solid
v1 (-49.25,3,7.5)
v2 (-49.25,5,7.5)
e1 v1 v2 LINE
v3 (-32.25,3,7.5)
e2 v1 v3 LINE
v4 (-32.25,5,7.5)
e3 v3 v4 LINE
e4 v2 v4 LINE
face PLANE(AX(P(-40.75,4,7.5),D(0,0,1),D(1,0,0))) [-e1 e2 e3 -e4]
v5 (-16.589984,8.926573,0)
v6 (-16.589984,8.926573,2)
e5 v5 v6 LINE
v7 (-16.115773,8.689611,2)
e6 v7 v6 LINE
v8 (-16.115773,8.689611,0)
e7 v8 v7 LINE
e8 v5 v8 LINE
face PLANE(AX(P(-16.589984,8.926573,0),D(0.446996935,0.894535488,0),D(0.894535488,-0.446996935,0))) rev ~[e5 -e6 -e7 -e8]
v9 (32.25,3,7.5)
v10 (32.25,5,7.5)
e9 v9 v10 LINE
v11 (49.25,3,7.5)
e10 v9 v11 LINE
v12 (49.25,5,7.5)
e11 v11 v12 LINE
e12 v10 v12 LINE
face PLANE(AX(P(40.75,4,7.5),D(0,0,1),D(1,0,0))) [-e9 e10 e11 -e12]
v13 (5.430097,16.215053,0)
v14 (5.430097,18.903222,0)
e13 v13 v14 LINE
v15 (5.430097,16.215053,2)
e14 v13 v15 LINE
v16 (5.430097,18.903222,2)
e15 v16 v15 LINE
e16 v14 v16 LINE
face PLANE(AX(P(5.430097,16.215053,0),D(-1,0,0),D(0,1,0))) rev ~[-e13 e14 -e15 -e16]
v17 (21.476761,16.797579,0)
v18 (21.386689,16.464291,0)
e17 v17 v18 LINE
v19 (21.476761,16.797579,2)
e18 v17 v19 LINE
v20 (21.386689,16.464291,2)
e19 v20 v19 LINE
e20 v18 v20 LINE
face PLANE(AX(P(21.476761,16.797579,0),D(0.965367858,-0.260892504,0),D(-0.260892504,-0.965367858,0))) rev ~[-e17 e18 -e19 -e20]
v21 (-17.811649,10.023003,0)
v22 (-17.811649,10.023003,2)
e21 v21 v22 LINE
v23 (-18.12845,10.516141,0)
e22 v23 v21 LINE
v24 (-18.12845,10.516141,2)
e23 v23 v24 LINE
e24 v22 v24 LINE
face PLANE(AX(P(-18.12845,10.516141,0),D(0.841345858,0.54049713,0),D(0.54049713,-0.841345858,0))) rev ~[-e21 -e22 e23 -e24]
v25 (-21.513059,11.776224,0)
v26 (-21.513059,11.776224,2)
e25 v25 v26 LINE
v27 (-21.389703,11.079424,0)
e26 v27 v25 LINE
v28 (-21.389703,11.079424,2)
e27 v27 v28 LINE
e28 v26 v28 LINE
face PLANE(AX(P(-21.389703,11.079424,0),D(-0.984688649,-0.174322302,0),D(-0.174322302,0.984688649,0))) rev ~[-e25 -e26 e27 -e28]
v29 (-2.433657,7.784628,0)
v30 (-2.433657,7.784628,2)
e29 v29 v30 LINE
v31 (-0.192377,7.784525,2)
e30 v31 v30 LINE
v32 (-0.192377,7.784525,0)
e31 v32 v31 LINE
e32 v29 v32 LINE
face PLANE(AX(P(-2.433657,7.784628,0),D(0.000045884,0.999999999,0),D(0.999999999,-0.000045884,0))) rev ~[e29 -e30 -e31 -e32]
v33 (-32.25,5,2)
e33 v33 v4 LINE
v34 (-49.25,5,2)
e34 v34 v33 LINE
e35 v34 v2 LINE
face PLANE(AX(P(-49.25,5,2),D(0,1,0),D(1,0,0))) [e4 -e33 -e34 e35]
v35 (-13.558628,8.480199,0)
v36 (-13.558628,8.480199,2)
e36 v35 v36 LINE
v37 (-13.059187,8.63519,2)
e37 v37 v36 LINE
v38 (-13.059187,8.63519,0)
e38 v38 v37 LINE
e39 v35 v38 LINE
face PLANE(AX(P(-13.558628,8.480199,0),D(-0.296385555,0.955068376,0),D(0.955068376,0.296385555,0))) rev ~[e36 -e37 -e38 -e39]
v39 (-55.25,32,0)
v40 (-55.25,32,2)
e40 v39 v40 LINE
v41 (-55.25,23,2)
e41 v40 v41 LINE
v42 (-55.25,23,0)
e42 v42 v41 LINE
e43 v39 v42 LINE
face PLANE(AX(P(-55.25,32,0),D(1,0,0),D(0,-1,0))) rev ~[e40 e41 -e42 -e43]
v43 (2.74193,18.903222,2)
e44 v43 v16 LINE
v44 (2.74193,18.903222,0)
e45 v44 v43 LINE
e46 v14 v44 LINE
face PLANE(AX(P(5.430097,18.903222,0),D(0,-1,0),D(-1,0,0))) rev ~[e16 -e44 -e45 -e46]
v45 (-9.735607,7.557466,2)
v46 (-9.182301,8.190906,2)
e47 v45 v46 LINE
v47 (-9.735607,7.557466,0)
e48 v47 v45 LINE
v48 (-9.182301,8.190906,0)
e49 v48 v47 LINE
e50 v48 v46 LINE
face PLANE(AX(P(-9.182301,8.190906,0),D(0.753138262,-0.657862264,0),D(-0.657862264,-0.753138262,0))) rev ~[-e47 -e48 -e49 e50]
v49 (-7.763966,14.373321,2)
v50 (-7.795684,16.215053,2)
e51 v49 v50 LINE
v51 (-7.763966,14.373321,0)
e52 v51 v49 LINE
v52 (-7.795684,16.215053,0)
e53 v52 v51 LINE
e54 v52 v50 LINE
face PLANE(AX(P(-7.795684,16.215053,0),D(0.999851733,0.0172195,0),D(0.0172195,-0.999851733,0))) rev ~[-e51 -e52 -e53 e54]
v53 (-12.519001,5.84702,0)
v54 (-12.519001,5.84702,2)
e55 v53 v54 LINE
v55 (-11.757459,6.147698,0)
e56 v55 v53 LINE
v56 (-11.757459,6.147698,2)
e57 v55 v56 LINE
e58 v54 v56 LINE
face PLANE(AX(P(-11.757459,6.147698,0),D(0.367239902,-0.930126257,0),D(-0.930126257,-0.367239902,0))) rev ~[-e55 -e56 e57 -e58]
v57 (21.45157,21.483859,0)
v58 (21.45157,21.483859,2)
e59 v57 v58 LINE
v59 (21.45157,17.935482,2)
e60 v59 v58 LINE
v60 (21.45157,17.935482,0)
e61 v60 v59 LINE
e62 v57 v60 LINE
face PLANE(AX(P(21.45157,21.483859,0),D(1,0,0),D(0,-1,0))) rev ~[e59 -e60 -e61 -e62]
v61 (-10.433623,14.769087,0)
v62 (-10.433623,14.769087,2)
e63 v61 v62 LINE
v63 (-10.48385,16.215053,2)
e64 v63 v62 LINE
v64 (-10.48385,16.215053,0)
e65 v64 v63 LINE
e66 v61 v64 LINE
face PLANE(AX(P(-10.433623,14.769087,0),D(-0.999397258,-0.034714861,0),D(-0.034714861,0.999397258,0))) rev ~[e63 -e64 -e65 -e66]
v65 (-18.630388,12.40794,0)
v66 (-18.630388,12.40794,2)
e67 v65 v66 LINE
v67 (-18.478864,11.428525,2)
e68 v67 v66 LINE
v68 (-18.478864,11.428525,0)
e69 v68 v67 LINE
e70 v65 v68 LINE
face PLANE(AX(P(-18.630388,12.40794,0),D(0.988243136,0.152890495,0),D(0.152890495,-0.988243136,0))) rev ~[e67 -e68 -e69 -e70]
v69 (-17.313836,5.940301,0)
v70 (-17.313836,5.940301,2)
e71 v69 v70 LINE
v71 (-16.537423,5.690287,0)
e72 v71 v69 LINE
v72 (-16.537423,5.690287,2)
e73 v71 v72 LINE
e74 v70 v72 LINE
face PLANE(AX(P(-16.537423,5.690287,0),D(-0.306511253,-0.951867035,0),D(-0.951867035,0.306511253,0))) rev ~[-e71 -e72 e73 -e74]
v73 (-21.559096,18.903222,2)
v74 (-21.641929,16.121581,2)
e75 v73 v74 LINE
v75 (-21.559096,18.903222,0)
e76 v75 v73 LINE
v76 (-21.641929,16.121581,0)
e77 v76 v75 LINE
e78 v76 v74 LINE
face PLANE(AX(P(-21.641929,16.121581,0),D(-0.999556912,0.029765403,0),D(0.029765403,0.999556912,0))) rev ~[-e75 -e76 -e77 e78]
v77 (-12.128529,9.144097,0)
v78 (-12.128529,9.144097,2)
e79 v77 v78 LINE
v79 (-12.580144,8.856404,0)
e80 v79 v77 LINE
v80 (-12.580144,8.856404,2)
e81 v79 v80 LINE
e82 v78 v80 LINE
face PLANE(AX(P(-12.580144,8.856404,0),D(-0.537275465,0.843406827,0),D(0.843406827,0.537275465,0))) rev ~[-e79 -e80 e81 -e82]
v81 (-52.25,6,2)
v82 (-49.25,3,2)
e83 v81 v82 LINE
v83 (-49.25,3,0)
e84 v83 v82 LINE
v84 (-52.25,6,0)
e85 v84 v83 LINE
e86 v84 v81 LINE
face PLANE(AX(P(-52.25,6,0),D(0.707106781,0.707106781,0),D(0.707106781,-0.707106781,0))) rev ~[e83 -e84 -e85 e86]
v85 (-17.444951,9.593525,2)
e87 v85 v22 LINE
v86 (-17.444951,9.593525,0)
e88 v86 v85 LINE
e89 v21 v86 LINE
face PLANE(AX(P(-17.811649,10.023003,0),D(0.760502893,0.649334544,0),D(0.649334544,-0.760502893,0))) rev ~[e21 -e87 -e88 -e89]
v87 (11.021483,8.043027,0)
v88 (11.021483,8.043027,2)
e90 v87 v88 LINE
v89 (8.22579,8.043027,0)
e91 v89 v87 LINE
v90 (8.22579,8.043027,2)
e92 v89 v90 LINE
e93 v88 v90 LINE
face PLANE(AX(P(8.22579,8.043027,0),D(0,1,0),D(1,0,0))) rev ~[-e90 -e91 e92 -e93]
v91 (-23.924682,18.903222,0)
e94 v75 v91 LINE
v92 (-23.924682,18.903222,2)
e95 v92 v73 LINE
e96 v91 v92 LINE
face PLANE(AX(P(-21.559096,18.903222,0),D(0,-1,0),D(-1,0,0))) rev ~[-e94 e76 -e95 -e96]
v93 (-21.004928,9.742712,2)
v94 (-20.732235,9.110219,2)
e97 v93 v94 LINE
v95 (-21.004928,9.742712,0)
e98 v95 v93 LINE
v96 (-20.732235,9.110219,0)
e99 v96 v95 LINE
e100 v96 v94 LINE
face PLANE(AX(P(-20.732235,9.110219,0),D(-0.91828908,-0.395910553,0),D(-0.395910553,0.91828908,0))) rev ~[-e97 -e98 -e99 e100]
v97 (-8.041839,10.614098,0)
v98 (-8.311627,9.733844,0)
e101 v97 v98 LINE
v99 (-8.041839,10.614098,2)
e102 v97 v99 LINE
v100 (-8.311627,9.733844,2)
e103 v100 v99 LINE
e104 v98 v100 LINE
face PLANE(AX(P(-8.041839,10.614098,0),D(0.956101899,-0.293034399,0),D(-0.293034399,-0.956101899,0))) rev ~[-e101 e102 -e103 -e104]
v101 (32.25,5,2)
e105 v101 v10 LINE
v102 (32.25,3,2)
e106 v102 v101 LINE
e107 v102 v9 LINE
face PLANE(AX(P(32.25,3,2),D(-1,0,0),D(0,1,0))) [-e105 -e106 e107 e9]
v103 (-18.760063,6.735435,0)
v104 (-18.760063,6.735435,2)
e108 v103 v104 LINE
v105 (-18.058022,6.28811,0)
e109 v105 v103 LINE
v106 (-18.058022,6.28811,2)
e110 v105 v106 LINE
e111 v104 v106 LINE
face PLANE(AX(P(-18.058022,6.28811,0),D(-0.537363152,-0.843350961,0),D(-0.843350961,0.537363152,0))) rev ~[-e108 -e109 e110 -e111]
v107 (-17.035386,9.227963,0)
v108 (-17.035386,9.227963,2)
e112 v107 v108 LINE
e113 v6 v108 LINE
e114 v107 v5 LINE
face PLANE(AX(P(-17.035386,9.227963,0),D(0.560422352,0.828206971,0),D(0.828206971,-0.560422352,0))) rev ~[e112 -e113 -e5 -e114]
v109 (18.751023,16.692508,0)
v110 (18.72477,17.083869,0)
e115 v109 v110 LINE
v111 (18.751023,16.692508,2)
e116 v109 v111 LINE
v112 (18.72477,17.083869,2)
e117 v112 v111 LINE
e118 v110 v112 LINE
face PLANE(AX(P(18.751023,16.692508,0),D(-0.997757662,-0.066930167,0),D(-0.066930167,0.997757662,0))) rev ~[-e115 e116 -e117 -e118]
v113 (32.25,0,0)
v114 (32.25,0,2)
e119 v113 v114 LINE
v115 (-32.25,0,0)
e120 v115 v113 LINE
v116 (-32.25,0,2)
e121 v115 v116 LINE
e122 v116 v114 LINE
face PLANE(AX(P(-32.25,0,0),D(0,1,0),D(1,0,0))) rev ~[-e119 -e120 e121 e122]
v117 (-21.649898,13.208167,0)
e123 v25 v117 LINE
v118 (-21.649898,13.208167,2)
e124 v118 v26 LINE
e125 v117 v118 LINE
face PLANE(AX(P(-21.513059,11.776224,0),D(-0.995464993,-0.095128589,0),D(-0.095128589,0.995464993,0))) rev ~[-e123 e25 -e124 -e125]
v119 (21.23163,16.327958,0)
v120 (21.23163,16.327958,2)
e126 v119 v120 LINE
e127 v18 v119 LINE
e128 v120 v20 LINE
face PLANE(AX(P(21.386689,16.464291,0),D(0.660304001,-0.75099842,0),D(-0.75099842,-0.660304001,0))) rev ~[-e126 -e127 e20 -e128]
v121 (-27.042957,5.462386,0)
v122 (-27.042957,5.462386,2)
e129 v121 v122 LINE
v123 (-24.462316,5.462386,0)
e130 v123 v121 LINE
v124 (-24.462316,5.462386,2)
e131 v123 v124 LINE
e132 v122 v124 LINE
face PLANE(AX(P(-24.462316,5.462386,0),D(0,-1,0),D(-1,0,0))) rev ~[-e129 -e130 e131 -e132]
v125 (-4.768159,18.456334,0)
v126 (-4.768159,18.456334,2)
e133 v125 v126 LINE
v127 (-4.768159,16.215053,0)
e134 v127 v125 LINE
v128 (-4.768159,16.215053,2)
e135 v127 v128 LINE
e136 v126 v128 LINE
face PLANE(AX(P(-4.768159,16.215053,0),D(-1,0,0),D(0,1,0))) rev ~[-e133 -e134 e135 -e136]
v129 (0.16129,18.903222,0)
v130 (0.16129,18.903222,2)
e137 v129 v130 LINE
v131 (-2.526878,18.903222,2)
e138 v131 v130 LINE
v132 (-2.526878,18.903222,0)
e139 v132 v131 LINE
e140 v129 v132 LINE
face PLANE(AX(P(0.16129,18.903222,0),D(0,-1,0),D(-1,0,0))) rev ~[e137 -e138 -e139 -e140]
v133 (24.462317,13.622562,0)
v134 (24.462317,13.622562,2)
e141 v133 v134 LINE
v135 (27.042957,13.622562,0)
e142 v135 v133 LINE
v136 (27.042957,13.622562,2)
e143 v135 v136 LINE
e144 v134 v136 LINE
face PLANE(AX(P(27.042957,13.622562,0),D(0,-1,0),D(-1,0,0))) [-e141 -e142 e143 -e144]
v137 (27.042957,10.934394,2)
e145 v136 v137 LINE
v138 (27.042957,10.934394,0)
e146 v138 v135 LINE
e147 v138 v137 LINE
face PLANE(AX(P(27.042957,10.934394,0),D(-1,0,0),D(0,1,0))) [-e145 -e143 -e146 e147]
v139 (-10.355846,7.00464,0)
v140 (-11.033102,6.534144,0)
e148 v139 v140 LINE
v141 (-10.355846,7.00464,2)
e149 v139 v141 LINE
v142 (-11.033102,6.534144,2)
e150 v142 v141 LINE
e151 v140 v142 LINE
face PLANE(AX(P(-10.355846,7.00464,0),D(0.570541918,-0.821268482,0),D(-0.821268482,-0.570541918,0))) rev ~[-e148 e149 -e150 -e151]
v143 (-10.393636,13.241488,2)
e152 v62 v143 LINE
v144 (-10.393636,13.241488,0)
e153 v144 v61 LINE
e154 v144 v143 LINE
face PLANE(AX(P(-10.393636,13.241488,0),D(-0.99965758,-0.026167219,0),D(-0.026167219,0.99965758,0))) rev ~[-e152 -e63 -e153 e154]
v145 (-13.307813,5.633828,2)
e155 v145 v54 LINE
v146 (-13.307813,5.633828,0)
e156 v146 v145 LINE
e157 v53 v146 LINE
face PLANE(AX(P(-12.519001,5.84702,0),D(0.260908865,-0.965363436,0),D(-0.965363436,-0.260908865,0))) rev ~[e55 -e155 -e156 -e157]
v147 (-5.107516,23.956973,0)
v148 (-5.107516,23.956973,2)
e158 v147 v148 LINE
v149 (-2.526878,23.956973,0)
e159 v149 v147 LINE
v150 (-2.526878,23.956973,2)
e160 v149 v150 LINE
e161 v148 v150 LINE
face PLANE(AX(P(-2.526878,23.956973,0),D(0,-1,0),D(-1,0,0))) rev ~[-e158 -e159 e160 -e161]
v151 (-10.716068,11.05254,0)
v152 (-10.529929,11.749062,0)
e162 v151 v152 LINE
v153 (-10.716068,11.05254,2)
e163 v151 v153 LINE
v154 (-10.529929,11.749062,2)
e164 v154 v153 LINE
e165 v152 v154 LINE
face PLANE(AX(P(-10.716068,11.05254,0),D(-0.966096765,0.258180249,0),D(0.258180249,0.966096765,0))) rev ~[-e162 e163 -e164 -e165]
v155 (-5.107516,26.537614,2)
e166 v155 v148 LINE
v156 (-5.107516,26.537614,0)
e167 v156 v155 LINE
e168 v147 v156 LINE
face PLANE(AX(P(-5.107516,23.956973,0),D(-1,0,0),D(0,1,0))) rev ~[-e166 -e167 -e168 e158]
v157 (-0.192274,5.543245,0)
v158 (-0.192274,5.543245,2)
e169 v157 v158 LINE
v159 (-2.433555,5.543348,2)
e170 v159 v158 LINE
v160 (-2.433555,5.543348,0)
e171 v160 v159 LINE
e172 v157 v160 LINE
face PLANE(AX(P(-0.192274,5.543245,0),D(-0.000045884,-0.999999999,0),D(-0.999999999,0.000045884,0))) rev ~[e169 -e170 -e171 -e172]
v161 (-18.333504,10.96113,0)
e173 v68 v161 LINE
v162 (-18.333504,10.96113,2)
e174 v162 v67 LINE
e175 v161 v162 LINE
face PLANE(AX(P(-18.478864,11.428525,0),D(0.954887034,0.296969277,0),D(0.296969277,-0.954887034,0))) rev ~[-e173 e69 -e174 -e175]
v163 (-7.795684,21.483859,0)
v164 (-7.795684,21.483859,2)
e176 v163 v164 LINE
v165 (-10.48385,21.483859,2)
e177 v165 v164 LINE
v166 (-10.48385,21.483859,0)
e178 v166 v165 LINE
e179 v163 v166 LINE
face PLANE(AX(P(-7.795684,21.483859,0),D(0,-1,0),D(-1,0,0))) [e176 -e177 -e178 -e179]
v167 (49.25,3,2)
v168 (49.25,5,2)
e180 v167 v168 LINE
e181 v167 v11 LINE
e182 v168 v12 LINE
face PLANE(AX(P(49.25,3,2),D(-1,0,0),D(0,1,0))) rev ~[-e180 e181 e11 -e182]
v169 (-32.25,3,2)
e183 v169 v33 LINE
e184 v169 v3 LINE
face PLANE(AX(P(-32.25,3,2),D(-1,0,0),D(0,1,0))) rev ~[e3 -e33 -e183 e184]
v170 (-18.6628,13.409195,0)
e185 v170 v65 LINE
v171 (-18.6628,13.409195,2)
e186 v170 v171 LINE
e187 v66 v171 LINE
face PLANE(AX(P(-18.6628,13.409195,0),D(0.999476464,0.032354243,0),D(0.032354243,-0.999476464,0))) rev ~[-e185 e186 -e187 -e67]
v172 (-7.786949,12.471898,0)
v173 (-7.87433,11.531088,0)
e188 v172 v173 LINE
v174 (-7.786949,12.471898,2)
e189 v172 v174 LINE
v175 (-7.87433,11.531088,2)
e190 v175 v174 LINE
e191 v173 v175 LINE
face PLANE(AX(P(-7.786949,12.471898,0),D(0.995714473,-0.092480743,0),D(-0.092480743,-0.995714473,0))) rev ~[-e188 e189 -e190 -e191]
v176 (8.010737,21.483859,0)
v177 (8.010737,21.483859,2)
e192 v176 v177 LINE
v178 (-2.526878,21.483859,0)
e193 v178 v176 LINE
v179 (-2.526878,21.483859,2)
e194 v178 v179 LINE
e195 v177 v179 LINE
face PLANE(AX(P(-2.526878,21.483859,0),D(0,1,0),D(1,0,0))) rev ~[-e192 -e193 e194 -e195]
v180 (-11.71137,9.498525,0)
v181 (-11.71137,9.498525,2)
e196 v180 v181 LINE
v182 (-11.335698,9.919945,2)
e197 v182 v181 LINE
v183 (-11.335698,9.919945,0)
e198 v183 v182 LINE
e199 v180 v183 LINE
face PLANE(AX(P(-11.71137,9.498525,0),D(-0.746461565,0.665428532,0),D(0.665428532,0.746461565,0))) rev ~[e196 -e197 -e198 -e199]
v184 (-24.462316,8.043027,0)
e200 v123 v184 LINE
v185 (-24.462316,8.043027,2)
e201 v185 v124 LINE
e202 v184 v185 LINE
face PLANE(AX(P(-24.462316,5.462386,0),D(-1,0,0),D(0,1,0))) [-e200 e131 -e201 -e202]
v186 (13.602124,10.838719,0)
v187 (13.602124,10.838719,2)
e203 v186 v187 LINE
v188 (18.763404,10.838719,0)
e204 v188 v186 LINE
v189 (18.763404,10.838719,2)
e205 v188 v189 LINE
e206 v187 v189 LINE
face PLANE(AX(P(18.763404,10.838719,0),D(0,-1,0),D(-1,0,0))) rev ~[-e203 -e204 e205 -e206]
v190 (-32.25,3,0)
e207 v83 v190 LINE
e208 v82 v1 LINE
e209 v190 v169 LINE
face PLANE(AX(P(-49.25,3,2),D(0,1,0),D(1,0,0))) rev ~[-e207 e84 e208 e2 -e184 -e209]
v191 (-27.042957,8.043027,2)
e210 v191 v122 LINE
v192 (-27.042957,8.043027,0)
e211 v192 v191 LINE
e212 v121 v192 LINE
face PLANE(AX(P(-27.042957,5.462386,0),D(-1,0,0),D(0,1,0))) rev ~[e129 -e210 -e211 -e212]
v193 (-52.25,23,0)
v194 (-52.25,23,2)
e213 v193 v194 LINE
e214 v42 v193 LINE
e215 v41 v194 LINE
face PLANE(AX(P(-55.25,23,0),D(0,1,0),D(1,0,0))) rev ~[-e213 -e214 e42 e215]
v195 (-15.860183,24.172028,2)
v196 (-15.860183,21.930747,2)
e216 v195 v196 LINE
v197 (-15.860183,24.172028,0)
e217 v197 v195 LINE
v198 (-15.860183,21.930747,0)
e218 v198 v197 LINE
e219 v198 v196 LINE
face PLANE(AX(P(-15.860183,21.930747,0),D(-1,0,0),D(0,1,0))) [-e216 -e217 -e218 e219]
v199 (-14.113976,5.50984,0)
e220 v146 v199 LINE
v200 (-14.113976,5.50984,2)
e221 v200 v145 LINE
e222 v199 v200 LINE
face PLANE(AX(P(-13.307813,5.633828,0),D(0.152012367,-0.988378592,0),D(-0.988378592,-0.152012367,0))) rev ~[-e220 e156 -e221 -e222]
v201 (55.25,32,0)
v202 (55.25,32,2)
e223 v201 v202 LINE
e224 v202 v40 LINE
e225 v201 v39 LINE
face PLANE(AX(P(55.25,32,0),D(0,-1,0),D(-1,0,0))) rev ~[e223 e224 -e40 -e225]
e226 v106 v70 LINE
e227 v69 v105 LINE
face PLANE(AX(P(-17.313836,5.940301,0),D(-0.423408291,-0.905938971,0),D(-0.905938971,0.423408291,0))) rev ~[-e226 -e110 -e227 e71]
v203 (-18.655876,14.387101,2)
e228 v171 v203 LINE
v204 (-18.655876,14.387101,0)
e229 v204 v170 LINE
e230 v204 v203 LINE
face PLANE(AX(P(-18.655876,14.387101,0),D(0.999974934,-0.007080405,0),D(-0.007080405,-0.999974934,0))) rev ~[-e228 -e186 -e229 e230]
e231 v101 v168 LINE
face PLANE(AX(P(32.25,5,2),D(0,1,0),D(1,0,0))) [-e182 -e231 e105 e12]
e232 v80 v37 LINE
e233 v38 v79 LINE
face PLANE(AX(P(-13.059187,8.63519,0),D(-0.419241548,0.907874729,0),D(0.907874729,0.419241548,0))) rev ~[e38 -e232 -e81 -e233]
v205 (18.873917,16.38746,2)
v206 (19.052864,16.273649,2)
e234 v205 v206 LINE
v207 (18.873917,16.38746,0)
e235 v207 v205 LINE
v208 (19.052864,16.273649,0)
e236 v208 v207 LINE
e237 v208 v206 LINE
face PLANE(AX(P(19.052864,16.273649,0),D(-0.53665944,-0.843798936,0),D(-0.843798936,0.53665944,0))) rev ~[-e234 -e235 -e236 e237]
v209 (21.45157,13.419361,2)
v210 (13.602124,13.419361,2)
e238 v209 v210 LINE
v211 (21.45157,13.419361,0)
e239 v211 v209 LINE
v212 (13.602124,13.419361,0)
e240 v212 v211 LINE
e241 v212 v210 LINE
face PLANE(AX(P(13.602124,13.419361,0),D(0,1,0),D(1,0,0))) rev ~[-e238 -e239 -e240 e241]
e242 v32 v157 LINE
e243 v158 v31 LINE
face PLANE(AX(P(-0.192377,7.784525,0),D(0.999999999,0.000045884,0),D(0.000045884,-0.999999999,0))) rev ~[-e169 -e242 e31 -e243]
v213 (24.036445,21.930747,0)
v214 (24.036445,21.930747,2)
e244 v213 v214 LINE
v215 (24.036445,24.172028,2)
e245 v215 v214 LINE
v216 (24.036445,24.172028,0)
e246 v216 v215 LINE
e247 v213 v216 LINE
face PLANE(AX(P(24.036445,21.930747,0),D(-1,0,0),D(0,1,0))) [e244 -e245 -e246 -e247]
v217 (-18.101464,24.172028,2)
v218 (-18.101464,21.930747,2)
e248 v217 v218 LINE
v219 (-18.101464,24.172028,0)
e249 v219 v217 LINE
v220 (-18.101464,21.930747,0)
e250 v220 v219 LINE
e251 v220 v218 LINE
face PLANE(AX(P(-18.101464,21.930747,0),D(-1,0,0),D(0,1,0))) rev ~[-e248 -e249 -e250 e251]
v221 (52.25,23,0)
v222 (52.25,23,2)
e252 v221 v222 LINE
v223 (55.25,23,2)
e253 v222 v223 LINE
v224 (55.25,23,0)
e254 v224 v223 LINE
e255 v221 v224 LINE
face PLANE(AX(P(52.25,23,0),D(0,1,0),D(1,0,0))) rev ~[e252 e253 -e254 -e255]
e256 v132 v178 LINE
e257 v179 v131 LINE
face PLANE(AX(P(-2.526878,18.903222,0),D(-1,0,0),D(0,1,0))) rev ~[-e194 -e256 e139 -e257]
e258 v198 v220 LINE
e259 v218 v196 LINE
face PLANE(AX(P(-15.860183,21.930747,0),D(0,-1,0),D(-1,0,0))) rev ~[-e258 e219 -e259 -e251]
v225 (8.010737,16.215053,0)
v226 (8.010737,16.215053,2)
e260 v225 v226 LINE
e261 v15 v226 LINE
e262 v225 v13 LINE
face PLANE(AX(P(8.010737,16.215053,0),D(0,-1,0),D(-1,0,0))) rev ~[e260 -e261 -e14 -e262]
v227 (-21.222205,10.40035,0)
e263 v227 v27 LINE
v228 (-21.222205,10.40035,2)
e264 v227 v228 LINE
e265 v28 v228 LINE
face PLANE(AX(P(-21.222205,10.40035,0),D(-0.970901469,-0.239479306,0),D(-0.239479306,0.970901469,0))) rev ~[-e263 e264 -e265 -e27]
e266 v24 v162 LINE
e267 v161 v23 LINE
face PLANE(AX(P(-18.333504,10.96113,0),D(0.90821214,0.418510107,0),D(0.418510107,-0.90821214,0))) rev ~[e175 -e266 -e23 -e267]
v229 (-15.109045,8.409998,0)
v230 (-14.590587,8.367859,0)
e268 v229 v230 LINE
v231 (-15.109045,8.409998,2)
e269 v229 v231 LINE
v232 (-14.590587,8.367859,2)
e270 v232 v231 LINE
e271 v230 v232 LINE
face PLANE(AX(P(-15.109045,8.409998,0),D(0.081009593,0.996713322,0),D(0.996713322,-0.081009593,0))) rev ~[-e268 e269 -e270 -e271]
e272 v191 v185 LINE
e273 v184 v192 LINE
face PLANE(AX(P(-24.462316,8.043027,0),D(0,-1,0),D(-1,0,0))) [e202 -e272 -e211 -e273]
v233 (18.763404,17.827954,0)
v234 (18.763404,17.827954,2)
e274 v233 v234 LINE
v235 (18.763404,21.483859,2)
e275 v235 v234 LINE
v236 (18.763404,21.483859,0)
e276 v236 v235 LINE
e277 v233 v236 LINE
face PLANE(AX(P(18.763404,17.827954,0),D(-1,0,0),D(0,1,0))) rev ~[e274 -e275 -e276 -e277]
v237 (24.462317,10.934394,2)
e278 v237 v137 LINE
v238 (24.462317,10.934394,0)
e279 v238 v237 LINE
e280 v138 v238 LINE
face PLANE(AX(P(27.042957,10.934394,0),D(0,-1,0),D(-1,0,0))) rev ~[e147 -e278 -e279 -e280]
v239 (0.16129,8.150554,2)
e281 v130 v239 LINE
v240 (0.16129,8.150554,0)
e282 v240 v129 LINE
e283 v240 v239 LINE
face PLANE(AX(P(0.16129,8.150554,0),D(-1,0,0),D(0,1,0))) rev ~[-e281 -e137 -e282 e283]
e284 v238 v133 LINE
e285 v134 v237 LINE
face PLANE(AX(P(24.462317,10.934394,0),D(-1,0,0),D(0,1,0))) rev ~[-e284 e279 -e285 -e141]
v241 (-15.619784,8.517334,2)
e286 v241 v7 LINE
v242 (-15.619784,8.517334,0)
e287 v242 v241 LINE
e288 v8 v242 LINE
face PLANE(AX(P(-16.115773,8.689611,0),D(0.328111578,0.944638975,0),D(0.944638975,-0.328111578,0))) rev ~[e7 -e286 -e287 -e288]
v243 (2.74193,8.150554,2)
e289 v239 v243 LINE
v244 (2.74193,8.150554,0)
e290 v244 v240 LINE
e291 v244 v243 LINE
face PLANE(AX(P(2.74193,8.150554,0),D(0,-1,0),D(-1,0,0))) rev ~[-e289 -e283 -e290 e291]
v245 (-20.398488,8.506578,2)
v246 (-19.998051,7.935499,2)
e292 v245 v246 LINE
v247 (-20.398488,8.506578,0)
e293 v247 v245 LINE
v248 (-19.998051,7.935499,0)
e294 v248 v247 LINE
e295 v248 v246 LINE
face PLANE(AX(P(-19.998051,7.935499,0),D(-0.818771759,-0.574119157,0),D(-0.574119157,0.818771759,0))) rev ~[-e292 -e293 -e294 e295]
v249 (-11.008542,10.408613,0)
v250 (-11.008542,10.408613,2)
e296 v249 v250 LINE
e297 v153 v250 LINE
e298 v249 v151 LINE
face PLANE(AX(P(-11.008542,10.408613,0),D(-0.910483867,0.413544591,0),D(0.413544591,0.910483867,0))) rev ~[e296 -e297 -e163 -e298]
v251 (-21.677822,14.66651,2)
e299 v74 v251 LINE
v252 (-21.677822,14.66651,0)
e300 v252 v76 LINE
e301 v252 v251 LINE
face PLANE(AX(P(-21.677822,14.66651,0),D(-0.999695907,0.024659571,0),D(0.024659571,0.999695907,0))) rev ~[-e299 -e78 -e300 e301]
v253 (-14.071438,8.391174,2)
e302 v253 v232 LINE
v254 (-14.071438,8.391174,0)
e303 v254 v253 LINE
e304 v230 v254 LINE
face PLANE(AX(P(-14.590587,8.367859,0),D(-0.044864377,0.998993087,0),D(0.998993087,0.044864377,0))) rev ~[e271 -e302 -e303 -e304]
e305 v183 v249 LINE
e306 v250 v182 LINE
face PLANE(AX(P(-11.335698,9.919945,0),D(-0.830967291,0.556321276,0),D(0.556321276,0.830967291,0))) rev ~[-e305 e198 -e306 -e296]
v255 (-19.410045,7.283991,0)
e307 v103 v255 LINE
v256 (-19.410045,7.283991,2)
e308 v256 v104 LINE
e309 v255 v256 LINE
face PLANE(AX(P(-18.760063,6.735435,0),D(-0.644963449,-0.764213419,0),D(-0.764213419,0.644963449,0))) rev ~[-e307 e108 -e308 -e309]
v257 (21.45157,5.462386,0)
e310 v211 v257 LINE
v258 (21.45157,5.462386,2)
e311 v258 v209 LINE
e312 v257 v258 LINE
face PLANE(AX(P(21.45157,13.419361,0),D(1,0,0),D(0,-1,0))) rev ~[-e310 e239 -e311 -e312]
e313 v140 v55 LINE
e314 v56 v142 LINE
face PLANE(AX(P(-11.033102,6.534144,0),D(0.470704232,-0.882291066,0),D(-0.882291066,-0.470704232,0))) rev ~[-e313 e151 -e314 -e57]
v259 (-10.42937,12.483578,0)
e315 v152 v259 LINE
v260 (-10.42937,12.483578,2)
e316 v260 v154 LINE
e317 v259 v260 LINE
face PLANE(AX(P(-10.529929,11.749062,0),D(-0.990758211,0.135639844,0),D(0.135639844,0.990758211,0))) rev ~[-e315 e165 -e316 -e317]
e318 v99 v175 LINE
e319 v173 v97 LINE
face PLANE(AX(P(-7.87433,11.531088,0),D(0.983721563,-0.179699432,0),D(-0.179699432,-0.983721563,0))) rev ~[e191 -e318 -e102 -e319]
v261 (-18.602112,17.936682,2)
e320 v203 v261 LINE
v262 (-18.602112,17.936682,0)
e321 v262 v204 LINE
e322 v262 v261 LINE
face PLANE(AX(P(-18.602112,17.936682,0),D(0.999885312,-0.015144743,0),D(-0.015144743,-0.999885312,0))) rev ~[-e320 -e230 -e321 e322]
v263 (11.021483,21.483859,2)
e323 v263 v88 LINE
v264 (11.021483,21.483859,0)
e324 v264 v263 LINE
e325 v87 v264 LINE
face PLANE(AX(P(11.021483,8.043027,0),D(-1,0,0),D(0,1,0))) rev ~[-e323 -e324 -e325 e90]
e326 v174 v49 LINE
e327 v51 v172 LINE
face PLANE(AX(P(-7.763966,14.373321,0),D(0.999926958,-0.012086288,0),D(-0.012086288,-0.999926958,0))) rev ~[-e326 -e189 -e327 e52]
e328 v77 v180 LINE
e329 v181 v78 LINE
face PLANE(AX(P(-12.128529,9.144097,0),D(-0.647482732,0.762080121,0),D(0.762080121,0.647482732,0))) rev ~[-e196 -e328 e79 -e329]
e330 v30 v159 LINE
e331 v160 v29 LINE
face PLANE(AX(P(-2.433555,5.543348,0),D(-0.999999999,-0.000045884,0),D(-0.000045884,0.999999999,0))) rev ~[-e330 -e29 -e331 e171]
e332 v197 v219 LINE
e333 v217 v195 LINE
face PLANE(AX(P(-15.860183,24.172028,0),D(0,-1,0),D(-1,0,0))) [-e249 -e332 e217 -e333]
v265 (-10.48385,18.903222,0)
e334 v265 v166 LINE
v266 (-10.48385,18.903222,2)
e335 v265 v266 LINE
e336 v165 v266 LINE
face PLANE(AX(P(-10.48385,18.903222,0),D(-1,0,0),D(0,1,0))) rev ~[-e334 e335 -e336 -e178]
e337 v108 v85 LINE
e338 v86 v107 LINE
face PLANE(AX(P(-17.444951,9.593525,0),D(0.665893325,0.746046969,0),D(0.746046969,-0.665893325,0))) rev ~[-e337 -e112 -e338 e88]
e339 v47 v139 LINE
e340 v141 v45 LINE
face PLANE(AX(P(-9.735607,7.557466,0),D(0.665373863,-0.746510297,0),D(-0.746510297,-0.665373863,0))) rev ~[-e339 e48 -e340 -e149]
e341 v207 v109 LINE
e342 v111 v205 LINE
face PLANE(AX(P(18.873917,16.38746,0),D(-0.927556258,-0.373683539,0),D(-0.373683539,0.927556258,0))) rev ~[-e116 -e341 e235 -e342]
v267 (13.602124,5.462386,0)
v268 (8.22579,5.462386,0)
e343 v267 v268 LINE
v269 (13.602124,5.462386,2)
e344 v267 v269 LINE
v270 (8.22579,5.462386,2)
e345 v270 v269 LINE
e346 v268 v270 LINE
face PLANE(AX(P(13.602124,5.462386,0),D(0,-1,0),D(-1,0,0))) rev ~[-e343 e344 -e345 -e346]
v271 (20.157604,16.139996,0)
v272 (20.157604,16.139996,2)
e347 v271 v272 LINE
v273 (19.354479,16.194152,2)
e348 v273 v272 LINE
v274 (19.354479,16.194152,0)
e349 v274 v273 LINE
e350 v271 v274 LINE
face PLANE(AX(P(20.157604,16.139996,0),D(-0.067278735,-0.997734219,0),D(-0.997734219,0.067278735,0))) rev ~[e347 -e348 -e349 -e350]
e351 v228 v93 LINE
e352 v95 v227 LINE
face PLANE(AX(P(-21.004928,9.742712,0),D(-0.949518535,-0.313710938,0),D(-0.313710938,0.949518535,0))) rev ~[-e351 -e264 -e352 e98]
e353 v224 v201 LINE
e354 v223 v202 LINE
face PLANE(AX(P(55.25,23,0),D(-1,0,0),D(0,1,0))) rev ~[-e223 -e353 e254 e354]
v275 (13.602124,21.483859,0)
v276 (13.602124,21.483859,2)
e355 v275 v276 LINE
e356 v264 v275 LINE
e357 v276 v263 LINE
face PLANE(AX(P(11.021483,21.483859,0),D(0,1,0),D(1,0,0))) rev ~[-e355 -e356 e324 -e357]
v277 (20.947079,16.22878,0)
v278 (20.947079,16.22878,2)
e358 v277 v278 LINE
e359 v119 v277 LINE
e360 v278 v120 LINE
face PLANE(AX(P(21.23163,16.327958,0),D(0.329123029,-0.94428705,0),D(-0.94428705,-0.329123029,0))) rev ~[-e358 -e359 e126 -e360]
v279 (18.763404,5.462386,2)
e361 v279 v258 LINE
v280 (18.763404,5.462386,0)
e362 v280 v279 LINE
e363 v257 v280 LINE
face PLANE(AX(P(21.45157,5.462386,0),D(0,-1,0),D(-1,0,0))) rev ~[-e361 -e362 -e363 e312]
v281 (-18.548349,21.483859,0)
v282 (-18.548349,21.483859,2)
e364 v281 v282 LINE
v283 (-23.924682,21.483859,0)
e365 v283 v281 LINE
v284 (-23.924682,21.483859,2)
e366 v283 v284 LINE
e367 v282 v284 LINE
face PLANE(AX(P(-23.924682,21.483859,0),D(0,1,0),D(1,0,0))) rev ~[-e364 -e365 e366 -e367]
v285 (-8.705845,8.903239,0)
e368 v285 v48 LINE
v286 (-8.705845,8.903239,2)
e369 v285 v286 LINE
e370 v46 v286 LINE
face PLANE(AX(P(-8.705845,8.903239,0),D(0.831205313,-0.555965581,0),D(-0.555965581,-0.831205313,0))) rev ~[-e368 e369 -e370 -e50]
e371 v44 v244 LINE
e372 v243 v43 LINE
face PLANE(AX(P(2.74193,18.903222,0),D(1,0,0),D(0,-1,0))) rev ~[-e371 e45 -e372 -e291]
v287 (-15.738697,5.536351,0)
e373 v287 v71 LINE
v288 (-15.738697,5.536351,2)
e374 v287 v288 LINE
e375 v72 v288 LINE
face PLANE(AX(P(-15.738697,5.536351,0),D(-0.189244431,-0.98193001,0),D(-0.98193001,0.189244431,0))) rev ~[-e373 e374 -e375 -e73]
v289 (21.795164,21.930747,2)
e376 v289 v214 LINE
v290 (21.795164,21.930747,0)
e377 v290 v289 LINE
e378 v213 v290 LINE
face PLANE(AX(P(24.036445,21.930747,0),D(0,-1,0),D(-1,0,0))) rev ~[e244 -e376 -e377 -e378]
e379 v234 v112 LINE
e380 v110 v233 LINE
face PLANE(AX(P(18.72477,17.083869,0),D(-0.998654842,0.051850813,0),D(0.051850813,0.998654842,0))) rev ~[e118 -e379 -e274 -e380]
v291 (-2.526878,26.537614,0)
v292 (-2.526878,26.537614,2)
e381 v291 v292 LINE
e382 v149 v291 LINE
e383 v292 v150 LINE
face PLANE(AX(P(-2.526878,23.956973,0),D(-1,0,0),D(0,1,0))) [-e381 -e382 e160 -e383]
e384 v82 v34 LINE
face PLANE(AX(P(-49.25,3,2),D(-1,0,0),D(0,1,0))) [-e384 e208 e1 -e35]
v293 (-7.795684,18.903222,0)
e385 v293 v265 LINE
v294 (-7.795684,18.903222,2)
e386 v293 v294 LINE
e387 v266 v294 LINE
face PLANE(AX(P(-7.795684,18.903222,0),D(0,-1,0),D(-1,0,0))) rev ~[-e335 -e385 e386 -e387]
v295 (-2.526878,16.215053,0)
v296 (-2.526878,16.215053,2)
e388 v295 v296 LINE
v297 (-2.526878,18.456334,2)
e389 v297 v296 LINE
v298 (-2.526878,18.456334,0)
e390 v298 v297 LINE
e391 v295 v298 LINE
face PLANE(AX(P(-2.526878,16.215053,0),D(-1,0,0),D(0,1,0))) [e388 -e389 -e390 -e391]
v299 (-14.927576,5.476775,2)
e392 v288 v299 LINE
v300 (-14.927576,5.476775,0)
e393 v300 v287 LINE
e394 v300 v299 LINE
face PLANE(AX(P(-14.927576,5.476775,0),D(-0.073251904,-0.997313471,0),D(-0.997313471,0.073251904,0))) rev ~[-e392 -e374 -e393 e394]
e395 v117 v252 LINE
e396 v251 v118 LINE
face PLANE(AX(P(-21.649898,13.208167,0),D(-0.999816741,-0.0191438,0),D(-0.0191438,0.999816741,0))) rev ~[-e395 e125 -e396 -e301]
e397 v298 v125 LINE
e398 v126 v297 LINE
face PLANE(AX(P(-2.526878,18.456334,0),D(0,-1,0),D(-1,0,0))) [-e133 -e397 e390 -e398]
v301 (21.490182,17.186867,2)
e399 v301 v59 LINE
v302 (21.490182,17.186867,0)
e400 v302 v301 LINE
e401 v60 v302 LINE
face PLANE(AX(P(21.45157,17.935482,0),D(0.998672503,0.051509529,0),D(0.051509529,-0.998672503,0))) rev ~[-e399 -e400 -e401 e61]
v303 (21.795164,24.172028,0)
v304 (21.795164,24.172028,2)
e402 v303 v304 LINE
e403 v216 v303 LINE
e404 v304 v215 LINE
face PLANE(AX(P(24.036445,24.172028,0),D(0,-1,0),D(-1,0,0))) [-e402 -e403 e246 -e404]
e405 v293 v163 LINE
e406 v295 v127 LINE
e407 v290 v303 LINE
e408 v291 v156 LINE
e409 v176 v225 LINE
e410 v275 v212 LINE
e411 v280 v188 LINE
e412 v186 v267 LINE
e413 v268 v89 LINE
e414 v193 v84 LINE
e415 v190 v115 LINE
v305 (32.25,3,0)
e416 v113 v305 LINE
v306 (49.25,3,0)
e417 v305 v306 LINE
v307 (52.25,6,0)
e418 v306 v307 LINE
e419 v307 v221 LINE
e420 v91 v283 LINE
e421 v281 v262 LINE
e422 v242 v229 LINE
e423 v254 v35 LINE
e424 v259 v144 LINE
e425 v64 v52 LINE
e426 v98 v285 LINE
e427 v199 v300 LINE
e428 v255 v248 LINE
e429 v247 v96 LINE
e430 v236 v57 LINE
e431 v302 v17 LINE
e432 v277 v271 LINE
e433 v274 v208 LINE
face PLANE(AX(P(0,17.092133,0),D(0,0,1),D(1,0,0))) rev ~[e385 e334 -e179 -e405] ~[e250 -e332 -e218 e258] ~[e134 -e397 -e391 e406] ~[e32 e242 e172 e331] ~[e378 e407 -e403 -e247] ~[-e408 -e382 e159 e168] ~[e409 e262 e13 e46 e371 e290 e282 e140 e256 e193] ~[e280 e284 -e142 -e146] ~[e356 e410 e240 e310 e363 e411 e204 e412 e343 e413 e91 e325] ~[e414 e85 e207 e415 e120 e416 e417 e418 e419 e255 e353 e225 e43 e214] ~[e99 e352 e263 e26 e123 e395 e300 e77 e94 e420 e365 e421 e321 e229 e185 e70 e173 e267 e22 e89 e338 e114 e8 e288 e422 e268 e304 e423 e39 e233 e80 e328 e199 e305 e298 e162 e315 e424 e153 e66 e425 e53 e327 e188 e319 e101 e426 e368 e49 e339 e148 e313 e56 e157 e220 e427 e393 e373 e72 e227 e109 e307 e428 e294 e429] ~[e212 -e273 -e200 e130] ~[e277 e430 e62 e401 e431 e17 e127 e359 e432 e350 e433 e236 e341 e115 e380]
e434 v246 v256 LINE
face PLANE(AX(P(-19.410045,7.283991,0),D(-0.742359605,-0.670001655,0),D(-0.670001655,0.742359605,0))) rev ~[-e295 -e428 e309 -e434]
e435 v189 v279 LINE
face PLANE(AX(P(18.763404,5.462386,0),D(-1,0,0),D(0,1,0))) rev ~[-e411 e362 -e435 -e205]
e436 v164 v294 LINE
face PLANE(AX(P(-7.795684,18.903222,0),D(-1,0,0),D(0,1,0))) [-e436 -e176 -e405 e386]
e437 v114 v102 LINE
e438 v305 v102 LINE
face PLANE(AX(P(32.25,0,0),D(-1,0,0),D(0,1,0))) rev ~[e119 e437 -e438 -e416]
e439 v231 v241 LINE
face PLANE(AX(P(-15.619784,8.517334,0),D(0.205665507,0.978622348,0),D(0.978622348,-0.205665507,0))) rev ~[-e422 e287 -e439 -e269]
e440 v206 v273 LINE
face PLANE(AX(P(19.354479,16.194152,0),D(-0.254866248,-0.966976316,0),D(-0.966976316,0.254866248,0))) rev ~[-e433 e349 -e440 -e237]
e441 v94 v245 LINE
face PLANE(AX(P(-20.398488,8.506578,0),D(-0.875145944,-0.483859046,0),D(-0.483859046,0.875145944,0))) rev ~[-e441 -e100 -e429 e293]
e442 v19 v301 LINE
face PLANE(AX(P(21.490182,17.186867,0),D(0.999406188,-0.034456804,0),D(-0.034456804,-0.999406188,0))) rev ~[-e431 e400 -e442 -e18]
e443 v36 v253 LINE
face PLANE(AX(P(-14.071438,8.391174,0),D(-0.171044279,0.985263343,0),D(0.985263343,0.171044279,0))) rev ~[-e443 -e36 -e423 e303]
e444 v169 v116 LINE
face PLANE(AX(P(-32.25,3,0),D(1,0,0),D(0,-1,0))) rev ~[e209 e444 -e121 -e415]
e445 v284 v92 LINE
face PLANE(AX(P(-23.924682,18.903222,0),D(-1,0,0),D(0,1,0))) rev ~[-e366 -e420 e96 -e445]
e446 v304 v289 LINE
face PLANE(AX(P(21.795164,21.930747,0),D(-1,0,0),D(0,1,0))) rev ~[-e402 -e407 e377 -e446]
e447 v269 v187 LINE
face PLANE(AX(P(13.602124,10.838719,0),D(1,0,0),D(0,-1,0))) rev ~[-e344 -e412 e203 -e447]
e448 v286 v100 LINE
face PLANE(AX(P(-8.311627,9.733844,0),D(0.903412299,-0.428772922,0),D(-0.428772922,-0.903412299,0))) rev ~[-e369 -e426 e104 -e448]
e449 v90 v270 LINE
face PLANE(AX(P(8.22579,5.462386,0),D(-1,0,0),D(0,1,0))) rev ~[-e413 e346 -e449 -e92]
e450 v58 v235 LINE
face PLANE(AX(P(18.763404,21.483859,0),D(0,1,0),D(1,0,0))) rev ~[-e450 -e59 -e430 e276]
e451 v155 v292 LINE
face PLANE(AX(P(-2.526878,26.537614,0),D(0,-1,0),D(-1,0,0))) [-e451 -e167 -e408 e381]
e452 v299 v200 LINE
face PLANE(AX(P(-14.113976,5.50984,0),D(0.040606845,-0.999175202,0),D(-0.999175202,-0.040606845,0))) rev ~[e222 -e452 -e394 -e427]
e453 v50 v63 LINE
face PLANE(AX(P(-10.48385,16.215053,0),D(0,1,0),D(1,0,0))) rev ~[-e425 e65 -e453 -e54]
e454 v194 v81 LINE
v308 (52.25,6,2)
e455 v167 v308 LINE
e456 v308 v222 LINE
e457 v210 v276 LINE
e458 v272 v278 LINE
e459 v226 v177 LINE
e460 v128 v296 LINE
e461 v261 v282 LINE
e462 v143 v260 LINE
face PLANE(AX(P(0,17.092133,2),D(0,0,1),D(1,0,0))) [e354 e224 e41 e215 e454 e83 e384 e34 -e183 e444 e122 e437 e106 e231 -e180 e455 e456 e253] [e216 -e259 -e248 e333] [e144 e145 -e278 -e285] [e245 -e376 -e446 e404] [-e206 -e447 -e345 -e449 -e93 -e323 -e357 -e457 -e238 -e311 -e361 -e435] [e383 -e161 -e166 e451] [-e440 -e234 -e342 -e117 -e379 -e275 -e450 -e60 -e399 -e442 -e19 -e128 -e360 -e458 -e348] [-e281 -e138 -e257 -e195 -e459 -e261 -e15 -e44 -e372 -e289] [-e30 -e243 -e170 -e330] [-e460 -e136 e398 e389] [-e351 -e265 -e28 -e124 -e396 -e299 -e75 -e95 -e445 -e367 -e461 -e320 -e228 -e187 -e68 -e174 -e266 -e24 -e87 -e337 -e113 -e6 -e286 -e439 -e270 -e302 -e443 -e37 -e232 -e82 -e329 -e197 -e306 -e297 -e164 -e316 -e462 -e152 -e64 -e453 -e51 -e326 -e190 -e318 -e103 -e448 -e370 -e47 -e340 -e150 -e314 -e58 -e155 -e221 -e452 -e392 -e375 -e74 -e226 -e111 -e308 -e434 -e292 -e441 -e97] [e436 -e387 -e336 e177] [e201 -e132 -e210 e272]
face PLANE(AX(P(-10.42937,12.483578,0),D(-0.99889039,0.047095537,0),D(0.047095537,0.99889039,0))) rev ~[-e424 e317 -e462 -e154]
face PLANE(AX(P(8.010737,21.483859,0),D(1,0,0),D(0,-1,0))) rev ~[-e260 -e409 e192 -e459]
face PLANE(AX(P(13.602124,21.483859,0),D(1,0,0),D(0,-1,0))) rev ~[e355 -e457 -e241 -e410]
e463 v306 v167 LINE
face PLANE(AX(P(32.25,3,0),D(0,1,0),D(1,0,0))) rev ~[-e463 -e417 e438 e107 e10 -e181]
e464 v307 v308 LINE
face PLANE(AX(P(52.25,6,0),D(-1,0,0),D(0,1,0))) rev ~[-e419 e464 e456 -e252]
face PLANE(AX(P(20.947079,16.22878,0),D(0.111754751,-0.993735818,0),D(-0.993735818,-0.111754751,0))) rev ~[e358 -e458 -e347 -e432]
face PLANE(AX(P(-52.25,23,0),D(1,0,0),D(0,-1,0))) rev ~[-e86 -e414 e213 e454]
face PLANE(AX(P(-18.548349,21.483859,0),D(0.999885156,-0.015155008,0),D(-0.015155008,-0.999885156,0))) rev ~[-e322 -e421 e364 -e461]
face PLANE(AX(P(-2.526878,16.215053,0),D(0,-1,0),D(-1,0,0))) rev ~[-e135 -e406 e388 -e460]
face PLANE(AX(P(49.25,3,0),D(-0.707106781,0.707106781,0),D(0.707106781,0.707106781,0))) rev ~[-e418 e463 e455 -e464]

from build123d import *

# Parameters (mm, degrees)
BOSS_EXTRUDE1_DEPTH = 2
SKETCH2_W           = 17
SKETCH2_H           = 2
BOSS_EXTRUDE2_DEPTH = 5.5
SKETCH3_W           = 2.580637968
SKETCH3_H           = 2.580641016
SKETCH3_W_2         = 2.241280605
SKETCH3_H_2         = 2.241280605
SKETCH3_W_3         = 2.688165312
SKETCH3_H_3         = 2.580637968
SKETCH3_W_4         = 2.580640102
SKETCH3_H_4         = 2.68816836
SKETCH3_W_5         = 2.580641016
CUT_EXTRUDE1_DEPTH  = 5


with BuildPart() as part:
    # Sketch1 → Boss-Extrude1 (new body)
    with BuildSketch(Plane.XY):
        Polygon((-32.25, 0), (32.25, 0), (32.25, 3), (49.25, 3), (52.25, 6), (52.25, 23), (55.25, 23), (55.25, 32), (-55.25, 32), (-55.25, 23), (-52.25, 23), (-52.25, 6), (-49.25, 3), (-32.25, 3), align=None)
    extrude(amount=BOSS_EXTRUDE1_DEPTH)

    # Sketch2 → Boss-Extrude2 (add)
    with BuildSketch(Plane.XY.offset(2)):
        with Locations((-40.75, 4)):
            Rectangle(SKETCH2_W, SKETCH2_H)
        with Locations((40.75, 4)):
            Rectangle(SKETCH2_W, SKETCH2_H)
    extrude(amount=BOSS_EXTRUDE2_DEPTH)

    # Sketch3 → Cut-Extrude1 (cut)
    with BuildSketch(Plane(origin=(0, 0, 0), x_dir=(-1, 0, 0), z_dir=(0, 0, -1))):
        with Locations((3.81719709, 25.247293672)):
            Rectangle(SKETCH3_W, SKETCH3_H)
        with Locations((-22.915804717, 23.05138755)):
            Rectangle(SKETCH3_W_2, SKETCH3_H_2)
        Polygon((-21.451570254, 21.483859492), (-21.451570254, 17.935481524), (-21.490182318, 17.186866511), (-21.476760755, 16.797579304), (-21.386689002, 16.464291172), (-21.231630232, 16.327958094), (-20.947078705, 16.228780137), (-20.157604338, 16.139996469), (-19.354479198, 16.194152418), (-19.052864358, 16.273649135), (-18.873917192, 16.387460236), (-18.751023052, 16.692507734), (-18.724770323, 17.0838688), (-18.763403723, 17.82795418), (-18.763403723, 21.483859492), align=None)
        with Locations((16.980823721, 23.05138755)):
            Rectangle(SKETCH3_W_2, SKETCH3_H_2)
        Polygon((-13.60212352, 21.483859492), (-13.60212352, 13.419360508), (-21.451570254, 13.419360508), (-21.451570254, 5.46238582), (-18.763403723, 5.46238582), (-18.763403723, 10.838719492), (-13.60212352, 10.838719492), (-13.60212352, 5.46238582), (-8.225790152, 5.46238582), (-8.225790152, 8.043026836), (-11.021483418, 8.043026836), (-11.021483418, 21.483859492), align=None)
        Polygon((-8.010736988, 21.483859492), (-8.010736988, 16.215053164), (-5.430096887, 16.215053164), (-5.430096887, 18.903221524), (-2.741930356, 18.903221524), (-2.741930356, 8.15055418), (-0.161290254, 8.15055418), (-0.161290254, 18.903221524), (2.526878106, 18.903221524), (2.526878106, 21.483859492), align=None)
        with Locations((3.647518408, 17.335693467)):
            Rectangle(SKETCH3_W_2, SKETCH3_H_2)
        with Locations((9.13976709, 20.193540508)):
            Rectangle(SKETCH3_W_3, SKETCH3_H_3)
        Polygon((18.54834873, 21.483859492), (18.602112402, 17.936682436), (18.655876074, 14.387100508), (18.662800216, 13.409194818), (18.630388393, 12.40793962), (18.478863779, 11.42852517), (18.333504049, 10.96112961), (18.128450154, 10.516140508), (17.811648959, 10.023003064), (17.444951089, 9.593525234), (17.035386148, 9.227963049), (16.589983736, 8.926572846), (16.115772848, 8.689610963), (15.619783696, 8.517333736), (15.109044966, 8.409997806), (14.590586567, 8.367859206), (14.071437796, 8.391173968), (13.558628255, 8.480199038), (13.059187242, 8.635190142), (12.58014436, 8.856404229), (12.1285286, 9.144097024), (11.711370176, 9.498525474), (11.33569808, 9.919945307), (11.00854161, 10.408613164), (10.716068027, 11.052540045), (10.529929105, 11.749061994), (10.429370099, 12.483578178), (10.393636261, 13.241488372), (10.433622973, 14.76908745), (10.483849746, 16.215053164), (7.795684434, 16.215053164), (7.763966032, 14.373321414), (7.786948866, 12.471897633), (7.874330149, 11.531087627), (8.04183939, 10.614098351), (8.311627319, 9.733844181), (8.705844666, 8.903239492), (9.182301016, 8.190905738), (9.735606894, 7.557466415), (10.355845938, 7.004639682), (11.033102089, 6.534144306), (11.757459289, 6.14769814), (12.51900148, 5.84701995), (13.307812602, 5.633827895), (14.113976293, 5.509840132), (14.927576495, 5.476775123), (15.738697453, 5.536351331), (16.5374225, 5.690287218), (17.313836188, 5.940300638), (18.058021847, 6.288110356), (18.76006342, 6.735434531), (19.410045152, 7.283991321), (19.998050682, 7.935499492), (20.398488388, 8.506577954), (20.732234939, 9.110218504), (21.004927916, 9.742712337), (21.222204596, 10.400350341), (21.38970256, 11.07942371), (21.513059082, 11.776223637), (21.649898432, 13.208167331), (21.67782177, 14.666510058), (21.641929436, 16.121580758), (21.559096074, 18.903221524), (23.924682402, 18.903221524), (23.924682402, 21.483859492), align=None)
        with Locations((-25.752637039, 12.278477871)):
            Rectangle(SKETCH3_W_4, SKETCH3_H_4)
        Polygon((0.192376871, 7.784525328), (0.192274032, 5.543244726), (2.433554635, 5.543347565), (2.433657474, 7.784628168), align=None)
        with Locations((25.752636582, 6.752706328)):
            Rectangle(SKETCH3_W_5, SKETCH3_H)
    extrude(amount=-CUT_EXTRUDE1_DEPTH, mode=Mode.SUBTRACT)


solid = part.part
